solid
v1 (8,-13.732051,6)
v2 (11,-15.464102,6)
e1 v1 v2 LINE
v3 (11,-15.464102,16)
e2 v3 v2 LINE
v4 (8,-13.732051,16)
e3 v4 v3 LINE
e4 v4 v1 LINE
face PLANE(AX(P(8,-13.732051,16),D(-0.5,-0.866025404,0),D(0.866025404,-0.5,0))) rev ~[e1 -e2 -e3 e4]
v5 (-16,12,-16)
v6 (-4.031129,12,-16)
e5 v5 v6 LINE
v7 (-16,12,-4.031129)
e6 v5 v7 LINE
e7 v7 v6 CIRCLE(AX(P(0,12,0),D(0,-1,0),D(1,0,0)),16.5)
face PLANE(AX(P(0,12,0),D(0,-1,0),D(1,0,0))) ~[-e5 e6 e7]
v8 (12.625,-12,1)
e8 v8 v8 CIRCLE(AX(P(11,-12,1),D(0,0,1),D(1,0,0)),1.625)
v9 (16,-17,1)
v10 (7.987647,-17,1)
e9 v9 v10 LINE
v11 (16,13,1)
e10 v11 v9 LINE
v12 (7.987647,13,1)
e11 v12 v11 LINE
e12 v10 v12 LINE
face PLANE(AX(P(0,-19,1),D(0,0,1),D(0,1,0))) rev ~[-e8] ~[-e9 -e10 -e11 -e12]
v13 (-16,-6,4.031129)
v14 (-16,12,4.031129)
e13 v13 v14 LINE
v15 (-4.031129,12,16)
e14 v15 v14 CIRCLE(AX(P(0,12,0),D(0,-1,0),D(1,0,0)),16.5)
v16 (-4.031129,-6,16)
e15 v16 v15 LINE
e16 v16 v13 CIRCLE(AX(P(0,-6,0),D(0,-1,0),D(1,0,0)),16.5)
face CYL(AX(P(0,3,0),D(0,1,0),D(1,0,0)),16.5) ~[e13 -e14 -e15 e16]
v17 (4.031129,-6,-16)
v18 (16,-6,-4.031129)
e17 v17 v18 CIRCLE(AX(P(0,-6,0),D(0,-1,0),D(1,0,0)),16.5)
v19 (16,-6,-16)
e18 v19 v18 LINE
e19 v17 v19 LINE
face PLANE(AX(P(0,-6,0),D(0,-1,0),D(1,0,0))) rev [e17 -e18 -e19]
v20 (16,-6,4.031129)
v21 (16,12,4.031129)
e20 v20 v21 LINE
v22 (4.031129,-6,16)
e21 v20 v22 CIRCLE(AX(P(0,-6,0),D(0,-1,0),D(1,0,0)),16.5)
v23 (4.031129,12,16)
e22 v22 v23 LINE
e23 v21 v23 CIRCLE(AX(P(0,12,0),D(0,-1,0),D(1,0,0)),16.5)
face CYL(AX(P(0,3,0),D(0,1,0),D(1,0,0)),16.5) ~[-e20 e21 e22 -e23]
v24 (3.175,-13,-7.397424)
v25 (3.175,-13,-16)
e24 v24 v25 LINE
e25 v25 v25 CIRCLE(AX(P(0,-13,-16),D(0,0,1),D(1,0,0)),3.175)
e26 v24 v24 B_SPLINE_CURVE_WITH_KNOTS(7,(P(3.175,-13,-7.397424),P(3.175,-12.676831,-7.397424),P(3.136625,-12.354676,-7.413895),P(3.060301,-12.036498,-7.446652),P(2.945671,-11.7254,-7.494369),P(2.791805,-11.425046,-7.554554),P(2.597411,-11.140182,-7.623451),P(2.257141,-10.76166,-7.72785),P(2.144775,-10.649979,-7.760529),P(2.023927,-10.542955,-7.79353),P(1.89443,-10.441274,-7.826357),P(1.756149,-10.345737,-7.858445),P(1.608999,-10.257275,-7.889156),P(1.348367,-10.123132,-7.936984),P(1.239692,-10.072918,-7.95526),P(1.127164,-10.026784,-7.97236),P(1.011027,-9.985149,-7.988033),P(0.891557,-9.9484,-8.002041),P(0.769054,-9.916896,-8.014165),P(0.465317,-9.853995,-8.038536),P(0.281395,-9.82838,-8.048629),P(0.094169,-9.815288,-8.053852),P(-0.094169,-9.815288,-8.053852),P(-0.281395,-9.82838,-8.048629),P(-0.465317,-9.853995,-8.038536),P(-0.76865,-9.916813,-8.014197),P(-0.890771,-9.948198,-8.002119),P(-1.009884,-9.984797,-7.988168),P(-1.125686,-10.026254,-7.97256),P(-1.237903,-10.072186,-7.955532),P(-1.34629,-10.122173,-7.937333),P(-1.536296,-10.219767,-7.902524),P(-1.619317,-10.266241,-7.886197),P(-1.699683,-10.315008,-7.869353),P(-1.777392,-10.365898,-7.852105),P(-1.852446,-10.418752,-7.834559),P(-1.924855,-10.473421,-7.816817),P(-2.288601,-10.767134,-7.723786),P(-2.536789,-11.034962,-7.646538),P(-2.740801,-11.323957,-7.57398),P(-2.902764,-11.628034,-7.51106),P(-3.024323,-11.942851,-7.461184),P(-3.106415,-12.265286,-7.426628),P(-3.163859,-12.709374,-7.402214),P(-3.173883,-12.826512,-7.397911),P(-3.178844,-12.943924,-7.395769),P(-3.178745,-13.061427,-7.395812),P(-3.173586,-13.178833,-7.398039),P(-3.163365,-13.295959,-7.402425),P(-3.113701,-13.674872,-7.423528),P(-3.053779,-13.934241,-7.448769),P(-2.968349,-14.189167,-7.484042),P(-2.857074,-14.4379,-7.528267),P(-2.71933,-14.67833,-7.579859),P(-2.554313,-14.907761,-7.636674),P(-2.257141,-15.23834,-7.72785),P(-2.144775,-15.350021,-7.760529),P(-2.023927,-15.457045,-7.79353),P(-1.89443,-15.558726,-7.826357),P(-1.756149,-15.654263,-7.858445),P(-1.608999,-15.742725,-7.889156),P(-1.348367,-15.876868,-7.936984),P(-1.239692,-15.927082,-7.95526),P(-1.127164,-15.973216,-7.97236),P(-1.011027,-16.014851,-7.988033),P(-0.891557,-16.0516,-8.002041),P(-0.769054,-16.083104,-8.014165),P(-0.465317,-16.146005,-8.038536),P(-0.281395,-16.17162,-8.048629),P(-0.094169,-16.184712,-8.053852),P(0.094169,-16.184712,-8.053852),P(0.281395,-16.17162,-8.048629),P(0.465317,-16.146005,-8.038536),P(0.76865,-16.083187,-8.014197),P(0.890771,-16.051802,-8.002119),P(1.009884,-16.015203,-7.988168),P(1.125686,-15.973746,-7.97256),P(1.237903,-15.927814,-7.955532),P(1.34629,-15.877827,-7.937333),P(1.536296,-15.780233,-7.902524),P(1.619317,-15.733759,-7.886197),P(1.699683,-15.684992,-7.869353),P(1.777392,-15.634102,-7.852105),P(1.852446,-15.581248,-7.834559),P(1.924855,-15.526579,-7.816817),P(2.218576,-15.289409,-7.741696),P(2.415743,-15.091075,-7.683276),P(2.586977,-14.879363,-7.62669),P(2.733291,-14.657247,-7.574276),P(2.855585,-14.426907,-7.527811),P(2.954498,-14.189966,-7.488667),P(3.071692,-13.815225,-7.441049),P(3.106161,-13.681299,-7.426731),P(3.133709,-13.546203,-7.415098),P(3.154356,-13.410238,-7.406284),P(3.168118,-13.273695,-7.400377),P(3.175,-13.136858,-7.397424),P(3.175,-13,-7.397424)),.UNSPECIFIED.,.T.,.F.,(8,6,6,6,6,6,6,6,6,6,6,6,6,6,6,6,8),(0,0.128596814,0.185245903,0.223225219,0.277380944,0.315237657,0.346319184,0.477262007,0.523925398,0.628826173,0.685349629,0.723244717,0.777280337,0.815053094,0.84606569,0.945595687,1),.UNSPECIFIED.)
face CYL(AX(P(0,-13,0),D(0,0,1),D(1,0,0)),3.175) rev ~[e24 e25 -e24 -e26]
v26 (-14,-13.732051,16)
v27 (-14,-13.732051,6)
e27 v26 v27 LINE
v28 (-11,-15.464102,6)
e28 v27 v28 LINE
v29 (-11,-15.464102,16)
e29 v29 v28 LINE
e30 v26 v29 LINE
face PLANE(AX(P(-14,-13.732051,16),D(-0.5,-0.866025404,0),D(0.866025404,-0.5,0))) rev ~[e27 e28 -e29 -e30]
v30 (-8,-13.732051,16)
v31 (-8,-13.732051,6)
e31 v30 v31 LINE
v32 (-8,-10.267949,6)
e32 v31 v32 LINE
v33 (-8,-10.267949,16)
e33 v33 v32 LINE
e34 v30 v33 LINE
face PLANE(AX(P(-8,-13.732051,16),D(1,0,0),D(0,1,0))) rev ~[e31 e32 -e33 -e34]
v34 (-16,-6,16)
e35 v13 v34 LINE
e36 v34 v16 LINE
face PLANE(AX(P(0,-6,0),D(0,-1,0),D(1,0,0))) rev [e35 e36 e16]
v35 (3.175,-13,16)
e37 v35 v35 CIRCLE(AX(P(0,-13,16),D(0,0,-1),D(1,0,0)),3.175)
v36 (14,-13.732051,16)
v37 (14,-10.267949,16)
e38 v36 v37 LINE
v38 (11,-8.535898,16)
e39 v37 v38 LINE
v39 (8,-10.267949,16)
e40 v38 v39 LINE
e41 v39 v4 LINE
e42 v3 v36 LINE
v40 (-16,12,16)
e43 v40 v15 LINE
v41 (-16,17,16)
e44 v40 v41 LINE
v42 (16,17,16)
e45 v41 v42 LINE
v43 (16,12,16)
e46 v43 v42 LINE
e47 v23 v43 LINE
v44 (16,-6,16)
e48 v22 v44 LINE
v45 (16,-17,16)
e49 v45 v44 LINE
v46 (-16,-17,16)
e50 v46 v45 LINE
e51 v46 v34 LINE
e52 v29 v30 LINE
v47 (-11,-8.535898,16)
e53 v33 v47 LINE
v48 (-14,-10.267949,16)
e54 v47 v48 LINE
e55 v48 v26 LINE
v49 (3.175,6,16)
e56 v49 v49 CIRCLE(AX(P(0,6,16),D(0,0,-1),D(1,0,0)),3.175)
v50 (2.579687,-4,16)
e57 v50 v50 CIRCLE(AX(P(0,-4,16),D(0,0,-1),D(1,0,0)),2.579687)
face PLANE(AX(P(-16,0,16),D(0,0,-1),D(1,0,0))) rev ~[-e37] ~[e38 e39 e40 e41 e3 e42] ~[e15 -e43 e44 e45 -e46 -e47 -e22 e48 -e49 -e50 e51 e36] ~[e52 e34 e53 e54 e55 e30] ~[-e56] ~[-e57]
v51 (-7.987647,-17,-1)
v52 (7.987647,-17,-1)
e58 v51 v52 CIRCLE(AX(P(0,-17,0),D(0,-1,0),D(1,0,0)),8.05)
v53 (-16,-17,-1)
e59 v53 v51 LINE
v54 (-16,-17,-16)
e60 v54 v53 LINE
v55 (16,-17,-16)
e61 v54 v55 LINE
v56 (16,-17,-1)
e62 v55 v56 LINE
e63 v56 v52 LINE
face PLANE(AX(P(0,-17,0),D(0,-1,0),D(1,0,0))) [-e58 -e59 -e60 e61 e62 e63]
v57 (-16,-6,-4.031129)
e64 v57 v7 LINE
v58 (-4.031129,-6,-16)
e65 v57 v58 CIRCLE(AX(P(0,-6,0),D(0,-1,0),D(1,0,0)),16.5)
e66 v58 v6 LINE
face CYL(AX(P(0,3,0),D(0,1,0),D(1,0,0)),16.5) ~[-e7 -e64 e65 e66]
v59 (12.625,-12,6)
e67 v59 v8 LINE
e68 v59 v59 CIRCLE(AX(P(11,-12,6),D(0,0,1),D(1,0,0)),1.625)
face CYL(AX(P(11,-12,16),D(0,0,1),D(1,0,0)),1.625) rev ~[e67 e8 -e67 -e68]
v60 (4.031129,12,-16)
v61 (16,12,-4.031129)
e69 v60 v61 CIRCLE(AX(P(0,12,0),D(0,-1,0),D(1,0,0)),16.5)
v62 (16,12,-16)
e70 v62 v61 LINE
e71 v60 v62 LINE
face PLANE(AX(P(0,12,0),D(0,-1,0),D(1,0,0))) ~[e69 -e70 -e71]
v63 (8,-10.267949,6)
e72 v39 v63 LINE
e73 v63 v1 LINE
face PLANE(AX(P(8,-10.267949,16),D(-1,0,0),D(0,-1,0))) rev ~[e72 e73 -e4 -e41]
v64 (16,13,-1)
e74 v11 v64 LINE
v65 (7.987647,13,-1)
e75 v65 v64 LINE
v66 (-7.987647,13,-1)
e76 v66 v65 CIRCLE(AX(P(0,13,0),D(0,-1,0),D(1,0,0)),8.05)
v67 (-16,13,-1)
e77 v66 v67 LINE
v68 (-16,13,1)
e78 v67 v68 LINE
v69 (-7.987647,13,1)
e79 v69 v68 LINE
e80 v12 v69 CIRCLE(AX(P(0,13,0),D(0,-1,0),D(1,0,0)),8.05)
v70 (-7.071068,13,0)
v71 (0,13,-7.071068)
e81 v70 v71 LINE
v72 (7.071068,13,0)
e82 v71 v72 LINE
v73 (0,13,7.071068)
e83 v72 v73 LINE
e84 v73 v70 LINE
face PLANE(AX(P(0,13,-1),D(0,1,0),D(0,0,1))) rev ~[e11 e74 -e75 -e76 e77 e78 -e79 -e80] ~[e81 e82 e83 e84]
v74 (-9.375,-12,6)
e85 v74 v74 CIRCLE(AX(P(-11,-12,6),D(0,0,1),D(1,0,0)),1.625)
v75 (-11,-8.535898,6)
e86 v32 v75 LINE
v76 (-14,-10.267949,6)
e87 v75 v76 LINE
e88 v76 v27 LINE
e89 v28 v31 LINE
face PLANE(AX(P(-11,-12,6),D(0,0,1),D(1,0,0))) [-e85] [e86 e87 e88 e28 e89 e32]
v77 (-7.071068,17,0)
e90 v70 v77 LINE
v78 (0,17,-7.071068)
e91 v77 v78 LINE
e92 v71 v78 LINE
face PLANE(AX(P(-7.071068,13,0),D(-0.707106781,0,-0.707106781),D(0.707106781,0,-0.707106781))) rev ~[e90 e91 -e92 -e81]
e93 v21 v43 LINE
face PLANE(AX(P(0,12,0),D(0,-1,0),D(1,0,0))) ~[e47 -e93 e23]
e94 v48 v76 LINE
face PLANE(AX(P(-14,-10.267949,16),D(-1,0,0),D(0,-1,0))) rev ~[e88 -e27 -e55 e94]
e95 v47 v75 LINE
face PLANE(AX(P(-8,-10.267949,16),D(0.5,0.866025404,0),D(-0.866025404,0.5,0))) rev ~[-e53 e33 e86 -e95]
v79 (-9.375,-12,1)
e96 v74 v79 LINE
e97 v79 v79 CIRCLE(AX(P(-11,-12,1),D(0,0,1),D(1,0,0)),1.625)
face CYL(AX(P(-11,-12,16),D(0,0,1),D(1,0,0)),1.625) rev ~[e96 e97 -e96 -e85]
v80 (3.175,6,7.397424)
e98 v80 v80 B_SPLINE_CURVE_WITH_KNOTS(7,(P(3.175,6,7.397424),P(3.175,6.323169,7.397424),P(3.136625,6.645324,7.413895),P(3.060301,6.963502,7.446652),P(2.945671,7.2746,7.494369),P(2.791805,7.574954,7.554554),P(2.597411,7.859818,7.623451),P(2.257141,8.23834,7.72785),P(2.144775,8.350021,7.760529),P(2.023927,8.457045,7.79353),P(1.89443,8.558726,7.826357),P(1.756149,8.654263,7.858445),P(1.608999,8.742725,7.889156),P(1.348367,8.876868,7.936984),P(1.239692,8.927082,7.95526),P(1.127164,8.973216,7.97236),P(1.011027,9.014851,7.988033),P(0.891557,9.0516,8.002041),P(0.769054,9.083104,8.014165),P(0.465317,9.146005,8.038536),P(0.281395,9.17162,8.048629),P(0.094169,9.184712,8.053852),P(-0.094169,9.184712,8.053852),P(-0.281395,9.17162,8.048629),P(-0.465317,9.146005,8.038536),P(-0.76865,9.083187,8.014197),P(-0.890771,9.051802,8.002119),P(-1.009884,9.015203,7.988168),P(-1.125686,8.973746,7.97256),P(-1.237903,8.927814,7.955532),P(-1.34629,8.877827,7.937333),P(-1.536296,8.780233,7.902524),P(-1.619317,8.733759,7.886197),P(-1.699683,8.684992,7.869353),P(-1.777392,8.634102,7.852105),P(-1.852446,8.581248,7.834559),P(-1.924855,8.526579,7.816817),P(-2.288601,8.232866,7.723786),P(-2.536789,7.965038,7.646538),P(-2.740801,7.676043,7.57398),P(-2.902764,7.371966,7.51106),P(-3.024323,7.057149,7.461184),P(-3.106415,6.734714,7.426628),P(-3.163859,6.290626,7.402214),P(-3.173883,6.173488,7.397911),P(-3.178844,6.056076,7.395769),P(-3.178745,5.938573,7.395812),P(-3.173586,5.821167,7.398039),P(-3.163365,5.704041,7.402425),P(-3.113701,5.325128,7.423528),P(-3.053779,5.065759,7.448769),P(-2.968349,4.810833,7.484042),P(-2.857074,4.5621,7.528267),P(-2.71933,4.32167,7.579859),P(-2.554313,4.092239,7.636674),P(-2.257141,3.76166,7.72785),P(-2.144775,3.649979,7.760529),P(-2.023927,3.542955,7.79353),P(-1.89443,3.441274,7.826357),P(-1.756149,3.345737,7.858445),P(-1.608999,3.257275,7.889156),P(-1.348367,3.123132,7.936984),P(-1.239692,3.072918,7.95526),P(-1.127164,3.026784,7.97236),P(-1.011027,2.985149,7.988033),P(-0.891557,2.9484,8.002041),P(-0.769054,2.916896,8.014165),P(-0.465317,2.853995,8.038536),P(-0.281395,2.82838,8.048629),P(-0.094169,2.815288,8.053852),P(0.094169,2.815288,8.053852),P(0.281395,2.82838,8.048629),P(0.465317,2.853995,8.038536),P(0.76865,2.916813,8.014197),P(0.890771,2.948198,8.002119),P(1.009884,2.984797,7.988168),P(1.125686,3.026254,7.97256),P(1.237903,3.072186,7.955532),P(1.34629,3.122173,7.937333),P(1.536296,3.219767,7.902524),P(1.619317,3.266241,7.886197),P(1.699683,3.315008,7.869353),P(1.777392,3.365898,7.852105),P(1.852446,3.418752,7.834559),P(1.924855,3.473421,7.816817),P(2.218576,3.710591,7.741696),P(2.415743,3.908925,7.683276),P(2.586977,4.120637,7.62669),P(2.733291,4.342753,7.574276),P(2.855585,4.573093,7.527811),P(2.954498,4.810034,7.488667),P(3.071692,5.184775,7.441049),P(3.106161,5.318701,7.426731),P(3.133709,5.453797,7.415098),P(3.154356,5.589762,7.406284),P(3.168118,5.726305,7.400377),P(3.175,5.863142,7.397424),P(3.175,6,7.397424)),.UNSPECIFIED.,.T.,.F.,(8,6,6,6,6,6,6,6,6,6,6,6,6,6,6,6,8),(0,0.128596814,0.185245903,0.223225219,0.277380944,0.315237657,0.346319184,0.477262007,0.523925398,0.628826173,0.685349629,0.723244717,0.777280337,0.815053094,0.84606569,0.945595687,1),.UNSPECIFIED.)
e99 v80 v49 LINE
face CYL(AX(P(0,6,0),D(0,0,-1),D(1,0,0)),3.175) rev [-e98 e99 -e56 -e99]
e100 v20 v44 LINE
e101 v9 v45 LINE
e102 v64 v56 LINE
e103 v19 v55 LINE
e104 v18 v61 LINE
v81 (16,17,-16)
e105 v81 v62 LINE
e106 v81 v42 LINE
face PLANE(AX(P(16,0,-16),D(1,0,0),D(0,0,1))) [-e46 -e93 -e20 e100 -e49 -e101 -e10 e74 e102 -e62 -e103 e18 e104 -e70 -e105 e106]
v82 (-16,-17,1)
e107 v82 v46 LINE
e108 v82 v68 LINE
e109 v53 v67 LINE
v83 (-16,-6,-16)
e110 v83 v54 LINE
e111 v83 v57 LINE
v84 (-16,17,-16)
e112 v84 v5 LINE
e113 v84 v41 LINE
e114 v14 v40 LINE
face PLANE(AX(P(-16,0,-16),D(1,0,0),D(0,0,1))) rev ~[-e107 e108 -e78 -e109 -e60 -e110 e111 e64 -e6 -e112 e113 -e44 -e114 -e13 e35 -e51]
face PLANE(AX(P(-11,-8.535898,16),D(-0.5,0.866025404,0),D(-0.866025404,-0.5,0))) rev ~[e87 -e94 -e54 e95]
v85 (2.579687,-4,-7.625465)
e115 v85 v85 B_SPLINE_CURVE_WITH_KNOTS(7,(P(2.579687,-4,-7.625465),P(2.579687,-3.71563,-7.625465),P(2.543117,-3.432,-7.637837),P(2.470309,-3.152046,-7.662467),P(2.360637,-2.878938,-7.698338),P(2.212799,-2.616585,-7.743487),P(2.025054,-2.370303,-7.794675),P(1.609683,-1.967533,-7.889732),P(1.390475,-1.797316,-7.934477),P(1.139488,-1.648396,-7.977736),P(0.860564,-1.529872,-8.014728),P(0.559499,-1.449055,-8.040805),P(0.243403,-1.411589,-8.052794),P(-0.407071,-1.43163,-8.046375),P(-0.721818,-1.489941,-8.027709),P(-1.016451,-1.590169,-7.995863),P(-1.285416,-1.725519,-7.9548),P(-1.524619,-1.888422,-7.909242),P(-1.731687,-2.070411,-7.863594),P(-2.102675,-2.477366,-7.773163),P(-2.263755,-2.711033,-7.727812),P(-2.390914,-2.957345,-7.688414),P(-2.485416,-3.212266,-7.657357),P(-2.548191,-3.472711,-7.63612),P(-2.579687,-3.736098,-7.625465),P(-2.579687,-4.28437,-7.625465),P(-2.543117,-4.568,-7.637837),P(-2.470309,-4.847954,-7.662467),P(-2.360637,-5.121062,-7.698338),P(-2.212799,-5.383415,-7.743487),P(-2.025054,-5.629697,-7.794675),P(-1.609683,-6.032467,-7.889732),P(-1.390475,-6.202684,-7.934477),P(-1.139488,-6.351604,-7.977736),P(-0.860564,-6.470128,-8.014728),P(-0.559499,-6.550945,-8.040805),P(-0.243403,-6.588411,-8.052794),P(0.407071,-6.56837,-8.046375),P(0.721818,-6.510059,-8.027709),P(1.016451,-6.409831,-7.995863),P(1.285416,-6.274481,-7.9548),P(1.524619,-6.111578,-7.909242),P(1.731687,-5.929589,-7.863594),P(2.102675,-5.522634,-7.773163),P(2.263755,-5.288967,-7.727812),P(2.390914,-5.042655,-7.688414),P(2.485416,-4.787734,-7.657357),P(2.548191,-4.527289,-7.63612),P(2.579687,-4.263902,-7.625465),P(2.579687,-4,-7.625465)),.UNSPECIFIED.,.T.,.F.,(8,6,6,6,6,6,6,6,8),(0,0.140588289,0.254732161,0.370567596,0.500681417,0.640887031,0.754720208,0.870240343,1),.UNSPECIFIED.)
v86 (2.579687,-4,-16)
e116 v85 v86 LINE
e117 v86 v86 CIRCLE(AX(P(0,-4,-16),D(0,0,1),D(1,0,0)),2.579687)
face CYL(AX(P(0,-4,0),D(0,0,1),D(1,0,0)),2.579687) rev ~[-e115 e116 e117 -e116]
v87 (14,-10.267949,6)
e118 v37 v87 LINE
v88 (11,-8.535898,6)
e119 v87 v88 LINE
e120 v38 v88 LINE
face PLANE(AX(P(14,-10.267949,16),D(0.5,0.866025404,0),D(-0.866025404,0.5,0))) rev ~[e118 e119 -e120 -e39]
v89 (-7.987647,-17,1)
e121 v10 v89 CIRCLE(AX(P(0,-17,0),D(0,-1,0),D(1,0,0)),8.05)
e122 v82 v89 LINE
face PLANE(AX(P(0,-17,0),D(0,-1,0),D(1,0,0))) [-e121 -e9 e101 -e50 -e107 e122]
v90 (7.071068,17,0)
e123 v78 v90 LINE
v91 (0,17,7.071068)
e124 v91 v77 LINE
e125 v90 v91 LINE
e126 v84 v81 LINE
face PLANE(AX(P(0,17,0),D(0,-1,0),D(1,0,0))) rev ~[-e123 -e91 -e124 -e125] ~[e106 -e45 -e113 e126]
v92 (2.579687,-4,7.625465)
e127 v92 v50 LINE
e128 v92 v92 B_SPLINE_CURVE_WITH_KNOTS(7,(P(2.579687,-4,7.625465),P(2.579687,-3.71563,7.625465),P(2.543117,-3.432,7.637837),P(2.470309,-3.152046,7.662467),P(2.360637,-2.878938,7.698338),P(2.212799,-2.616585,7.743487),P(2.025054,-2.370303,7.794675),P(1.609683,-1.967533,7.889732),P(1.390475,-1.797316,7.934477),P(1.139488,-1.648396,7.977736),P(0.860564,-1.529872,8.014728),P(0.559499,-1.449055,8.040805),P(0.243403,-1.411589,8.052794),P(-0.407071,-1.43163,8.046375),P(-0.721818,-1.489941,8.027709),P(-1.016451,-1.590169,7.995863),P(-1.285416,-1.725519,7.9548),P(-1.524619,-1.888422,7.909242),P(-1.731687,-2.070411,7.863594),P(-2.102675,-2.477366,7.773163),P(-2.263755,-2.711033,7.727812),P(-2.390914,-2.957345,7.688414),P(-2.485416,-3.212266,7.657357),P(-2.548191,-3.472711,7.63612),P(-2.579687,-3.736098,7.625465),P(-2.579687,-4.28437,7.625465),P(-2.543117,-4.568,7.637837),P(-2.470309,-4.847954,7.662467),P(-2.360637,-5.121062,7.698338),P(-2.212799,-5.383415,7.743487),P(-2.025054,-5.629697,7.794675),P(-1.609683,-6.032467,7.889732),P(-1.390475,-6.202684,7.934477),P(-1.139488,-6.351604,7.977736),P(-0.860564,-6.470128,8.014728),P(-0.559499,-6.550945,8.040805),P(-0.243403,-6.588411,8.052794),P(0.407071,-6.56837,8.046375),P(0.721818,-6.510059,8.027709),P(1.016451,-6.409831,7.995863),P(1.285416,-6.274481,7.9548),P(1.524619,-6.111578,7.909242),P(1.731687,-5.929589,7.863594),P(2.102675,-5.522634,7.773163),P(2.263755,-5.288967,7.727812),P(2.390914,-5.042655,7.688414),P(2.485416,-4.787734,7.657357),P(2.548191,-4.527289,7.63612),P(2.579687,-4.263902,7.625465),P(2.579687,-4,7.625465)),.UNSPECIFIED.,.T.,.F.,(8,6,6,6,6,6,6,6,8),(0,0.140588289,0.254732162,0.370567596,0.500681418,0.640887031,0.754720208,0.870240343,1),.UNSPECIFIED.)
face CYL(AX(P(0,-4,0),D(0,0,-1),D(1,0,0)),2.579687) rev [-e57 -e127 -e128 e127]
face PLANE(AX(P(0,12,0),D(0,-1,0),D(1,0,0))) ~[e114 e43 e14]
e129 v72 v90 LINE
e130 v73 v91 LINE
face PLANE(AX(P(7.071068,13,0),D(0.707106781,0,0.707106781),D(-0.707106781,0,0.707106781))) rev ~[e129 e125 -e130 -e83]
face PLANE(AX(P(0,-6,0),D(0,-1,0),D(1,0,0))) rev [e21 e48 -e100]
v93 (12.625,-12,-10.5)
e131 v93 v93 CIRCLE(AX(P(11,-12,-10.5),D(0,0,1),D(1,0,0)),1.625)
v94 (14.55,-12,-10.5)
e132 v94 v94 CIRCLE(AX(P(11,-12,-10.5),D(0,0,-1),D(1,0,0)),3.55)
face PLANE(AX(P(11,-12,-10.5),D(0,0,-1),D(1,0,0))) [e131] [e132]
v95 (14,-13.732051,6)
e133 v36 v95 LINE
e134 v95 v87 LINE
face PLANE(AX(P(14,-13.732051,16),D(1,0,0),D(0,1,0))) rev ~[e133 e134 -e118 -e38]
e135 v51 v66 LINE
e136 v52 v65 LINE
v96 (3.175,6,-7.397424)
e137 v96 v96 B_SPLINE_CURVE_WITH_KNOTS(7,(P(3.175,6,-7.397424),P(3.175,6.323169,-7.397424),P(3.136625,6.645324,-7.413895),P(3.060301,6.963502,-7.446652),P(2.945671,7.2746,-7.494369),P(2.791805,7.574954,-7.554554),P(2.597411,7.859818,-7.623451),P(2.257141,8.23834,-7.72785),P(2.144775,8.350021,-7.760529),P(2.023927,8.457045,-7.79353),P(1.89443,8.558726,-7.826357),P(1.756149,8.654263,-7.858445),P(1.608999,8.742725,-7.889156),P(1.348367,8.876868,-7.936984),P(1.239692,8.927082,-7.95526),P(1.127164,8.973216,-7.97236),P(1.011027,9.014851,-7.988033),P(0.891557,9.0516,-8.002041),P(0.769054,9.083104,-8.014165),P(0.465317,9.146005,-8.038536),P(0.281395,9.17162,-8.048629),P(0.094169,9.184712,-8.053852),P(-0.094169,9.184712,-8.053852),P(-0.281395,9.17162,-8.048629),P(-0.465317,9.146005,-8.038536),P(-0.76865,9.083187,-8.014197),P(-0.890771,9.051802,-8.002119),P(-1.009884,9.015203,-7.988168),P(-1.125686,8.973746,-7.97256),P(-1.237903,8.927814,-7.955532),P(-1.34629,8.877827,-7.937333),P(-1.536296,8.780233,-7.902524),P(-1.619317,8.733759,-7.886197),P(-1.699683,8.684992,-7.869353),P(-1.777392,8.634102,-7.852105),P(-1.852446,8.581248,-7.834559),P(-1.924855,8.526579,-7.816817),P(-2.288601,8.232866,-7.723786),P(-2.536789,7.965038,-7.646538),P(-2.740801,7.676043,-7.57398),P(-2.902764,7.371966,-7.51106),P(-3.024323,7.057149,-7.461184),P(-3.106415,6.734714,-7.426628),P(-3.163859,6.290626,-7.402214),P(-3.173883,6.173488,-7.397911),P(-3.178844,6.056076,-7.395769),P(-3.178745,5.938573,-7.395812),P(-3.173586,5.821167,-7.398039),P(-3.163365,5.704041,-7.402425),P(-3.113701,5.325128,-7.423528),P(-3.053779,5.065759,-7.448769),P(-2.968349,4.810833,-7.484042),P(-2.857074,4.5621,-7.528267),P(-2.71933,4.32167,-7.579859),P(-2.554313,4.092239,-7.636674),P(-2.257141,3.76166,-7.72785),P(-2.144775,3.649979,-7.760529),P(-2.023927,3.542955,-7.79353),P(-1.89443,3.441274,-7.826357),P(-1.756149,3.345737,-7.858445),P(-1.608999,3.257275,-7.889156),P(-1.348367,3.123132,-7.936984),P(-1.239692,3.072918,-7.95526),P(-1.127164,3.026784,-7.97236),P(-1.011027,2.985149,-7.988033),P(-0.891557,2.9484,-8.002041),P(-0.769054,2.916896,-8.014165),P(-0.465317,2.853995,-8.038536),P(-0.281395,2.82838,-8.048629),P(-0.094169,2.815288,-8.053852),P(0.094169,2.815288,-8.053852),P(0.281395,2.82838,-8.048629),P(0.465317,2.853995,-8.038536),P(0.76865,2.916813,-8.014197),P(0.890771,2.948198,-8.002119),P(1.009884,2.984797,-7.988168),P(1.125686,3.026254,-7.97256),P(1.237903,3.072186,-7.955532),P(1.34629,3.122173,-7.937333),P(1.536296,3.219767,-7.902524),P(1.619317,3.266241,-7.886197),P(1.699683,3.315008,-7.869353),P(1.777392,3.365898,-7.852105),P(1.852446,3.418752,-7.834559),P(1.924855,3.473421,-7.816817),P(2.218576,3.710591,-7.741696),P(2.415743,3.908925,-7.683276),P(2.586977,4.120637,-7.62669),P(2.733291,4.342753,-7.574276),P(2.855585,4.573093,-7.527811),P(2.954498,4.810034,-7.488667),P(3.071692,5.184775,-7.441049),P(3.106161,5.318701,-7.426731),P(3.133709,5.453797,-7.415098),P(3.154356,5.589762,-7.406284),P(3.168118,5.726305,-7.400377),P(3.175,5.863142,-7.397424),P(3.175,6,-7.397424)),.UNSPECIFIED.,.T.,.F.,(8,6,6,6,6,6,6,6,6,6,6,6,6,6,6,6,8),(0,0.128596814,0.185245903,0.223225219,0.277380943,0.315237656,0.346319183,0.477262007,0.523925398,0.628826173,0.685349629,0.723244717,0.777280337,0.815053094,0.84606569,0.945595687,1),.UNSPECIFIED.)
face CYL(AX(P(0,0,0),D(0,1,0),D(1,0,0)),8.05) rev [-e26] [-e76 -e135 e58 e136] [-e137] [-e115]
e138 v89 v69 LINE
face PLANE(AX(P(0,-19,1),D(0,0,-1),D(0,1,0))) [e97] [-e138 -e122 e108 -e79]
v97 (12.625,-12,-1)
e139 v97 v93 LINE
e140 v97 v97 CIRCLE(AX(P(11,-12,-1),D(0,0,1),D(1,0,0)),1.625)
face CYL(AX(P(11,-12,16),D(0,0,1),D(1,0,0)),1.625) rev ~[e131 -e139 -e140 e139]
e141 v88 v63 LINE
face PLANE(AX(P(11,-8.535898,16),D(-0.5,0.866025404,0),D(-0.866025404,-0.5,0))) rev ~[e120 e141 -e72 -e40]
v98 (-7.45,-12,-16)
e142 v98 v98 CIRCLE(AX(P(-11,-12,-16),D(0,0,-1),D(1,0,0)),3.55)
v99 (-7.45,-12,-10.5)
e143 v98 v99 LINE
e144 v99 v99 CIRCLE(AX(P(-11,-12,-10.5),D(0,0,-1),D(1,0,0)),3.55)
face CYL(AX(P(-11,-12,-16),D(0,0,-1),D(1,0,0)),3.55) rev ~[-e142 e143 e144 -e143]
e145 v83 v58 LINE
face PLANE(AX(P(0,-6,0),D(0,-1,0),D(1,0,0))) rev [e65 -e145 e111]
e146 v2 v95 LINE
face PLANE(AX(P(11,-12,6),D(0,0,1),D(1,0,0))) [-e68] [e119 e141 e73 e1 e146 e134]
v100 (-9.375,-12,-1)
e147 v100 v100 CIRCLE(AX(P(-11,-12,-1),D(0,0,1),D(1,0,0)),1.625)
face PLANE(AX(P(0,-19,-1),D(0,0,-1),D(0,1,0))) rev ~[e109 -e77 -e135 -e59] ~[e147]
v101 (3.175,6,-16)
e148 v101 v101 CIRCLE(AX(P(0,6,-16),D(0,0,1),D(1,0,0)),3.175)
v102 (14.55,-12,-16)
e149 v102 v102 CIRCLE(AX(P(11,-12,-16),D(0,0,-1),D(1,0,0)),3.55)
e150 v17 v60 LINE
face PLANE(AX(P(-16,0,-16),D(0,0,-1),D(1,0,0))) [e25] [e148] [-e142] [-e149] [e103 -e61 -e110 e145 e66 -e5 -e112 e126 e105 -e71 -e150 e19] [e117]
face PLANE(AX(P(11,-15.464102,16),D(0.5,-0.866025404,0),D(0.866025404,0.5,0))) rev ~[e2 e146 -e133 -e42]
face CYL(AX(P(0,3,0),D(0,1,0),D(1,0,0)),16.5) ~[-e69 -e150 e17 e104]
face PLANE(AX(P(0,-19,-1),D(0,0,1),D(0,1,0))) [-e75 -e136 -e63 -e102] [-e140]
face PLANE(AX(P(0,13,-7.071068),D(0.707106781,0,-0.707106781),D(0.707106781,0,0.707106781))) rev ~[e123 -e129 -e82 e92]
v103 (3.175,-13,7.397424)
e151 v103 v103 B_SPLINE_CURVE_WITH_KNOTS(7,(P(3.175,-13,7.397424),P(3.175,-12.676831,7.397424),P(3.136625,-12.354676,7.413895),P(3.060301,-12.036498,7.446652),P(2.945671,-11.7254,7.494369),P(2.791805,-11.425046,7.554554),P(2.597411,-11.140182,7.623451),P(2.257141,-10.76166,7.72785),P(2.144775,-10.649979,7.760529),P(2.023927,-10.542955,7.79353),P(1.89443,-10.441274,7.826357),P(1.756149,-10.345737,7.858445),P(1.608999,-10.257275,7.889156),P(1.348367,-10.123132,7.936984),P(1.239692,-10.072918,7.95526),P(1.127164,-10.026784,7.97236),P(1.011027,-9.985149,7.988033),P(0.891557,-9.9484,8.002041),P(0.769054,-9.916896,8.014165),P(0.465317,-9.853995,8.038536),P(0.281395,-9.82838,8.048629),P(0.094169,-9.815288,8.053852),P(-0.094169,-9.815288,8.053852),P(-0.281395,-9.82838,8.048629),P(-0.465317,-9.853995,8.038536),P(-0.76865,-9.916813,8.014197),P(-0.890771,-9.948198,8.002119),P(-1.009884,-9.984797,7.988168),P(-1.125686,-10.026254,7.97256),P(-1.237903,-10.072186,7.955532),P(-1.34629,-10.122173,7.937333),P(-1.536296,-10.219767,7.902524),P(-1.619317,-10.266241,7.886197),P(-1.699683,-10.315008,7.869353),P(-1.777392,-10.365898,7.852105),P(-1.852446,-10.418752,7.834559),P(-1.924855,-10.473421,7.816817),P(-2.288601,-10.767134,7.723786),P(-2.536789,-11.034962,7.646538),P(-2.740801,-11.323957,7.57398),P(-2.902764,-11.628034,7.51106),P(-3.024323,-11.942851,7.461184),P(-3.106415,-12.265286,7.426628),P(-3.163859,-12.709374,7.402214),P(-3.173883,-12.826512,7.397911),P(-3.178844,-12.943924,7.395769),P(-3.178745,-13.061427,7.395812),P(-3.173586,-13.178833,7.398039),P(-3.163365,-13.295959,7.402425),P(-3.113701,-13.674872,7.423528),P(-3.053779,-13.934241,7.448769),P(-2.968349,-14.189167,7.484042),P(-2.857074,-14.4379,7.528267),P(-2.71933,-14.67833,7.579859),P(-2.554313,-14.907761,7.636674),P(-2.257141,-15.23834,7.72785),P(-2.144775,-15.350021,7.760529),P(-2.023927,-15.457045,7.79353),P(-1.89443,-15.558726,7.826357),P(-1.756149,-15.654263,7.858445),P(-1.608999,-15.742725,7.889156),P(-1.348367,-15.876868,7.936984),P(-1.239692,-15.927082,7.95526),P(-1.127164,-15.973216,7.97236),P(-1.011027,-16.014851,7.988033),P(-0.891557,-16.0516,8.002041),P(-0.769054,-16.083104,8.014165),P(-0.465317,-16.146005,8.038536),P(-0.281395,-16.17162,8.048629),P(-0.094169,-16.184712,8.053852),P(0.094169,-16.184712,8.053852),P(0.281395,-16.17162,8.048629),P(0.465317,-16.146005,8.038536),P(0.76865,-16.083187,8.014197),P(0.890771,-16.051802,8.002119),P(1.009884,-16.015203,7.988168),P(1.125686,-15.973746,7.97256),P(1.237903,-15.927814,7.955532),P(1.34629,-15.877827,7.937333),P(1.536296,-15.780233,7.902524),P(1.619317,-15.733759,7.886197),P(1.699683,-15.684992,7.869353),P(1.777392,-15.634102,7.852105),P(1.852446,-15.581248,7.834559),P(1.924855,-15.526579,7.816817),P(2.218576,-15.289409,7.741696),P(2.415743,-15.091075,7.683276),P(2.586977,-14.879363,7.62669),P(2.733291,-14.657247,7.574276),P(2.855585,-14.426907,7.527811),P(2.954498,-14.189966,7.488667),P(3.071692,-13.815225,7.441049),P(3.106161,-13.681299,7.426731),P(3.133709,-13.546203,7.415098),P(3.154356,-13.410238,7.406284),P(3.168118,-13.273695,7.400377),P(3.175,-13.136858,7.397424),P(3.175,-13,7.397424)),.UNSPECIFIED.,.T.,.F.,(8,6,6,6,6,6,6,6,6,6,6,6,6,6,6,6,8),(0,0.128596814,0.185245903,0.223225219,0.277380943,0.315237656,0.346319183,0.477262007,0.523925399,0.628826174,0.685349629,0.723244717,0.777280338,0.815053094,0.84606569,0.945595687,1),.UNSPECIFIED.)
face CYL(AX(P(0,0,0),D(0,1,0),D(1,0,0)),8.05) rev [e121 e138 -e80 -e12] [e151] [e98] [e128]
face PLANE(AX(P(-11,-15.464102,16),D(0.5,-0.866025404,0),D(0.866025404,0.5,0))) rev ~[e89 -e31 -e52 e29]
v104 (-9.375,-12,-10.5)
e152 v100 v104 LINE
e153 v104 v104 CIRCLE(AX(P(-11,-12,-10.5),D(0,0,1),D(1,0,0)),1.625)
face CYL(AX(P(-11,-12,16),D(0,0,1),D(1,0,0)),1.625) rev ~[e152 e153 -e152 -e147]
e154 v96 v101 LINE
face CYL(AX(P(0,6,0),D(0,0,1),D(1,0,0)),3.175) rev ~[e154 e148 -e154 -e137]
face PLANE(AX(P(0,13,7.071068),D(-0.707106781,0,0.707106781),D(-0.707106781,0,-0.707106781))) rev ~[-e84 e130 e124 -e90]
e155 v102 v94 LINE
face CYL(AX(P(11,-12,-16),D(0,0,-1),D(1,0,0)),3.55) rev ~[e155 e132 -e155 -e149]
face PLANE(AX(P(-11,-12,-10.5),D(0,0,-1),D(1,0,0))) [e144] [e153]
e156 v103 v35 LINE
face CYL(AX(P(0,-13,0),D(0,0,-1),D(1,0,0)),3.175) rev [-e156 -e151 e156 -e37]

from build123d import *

# Parameters (mm, degrees)
F0_W          = 32
F0_H          = 32
F1_DEPTH      = 17
F2_R          = 8.05
F3_DEPTH      = 13
F3_DEPTH_BACK = 17
F4_W          = 32
F4_H          = 2
F5_DEPTH      = 16.001
F5_DEPTH_BACK = 16.001
F6_R          = 3.175
F6_R_2        = 2.5796875
F7_DEPTH      = 16.001
F7_DEPTH_BACK = 16.001
F8_R          = 1.625
F9_DEPTH      = 32.0010001
F10_R         = 3.55
F12_DEPTH     = 5.5
F13_DEPTH     = 10
F15_DEPTH     = 4.001
F16_W         = 9.5
F16_H         = 18


with BuildPart() as f1:
    # F0 (on Front) → F1 (new body, symmetric)
    with BuildSketch(Plane.XZ):
        Rectangle(F0_W, F0_H)
    extrude(amount=F1_DEPTH, both=True)

    # F2 (on Front) → F3 (cut, two sides)
    with BuildSketch(Plane.XZ) as f3_sk:
        Circle(F2_R)
    extrude(amount=-F3_DEPTH, mode=Mode.SUBTRACT)
    extrude(f3_sk.sketch, amount=F3_DEPTH_BACK, mode=Mode.SUBTRACT)

    # F4 (on Right) → F5 (cut, two sides)
    with BuildSketch(Plane.YZ) as f5_sk:
        with Locations((-3, 0)):
            Rectangle(F4_W, F4_H)
    extrude(amount=-F5_DEPTH, mode=Mode.SUBTRACT)
    extrude(f5_sk.sketch, amount=F5_DEPTH_BACK, mode=Mode.SUBTRACT)

    # F6 (on Top) → F7 (cut, two sides)
    with BuildSketch(Plane.XY) as f7_sk:
        with Locations((0, 6)):
            Circle(F6_R)
        with Locations((0, -4)):
            Circle(F6_R_2)
        with Locations((0, -13)):
            Circle(F6_R)
    extrude(amount=-F7_DEPTH, mode=Mode.SUBTRACT)
    extrude(f7_sk.sketch, amount=F7_DEPTH_BACK, mode=Mode.SUBTRACT)

    # F8 (on face) → F9 (cut, through all)
    with BuildSketch(Plane.XY.offset(16)):
        with Locations((-11, -12)):
            Circle(F8_R)
        with Locations((11, -12)):
            Circle(F8_R)
    extrude(amount=-F9_DEPTH, mode=Mode.SUBTRACT)

    # F10 (on face) → F12 (cut)
    with BuildSketch(Plane(origin=(0, 0, -16), x_dir=(1, 0, 0), z_dir=(0, 0, -1))):
        with Locations((11, 12)):
            Circle(F10_R)
        with Locations((-11, 12)):
            Circle(F10_R)
    extrude(amount=-F12_DEPTH, mode=Mode.SUBTRACT)

    # F11 (on face) → F13 (cut)
    with BuildSketch(Plane.XY.offset(16)):
        Polygon((-8, -13.7320508076), (-8, -10.2679491924), (-11, -8.5358983849), (-14, -10.2679491924), (-14, -13.7320508076), (-11, -15.4641016151), align=None)
        Polygon((8, -10.2679491924), (8, -13.7320508076), (11, -15.4641016151), (14, -13.7320508076), (14, -10.2679491924), (11, -8.5358983849), align=None)
    extrude(amount=-F13_DEPTH, mode=Mode.SUBTRACT)

    # F14 (on face) → F15 (cut, through all)
    with BuildSketch(Plane.XZ.offset(-13)):
        Polygon((0, -7.0710678119), (7.0710678119, 0), (0, 7.0710678119), (-7.0710678119, 0), align=None)
    extrude(amount=-F15_DEPTH, mode=Mode.SUBTRACT)

    # F16 (on Top) → F17 (revolve, cut)
    with BuildSketch(Plane.XY):
        with Locations((21.25, 3)):
            Rectangle(F16_W, F16_H)
    revolve(axis=Axis((0, -3.4330706112, 0), (0, -1, 0)), mode=Mode.SUBTRACT)


solid = f1.part
